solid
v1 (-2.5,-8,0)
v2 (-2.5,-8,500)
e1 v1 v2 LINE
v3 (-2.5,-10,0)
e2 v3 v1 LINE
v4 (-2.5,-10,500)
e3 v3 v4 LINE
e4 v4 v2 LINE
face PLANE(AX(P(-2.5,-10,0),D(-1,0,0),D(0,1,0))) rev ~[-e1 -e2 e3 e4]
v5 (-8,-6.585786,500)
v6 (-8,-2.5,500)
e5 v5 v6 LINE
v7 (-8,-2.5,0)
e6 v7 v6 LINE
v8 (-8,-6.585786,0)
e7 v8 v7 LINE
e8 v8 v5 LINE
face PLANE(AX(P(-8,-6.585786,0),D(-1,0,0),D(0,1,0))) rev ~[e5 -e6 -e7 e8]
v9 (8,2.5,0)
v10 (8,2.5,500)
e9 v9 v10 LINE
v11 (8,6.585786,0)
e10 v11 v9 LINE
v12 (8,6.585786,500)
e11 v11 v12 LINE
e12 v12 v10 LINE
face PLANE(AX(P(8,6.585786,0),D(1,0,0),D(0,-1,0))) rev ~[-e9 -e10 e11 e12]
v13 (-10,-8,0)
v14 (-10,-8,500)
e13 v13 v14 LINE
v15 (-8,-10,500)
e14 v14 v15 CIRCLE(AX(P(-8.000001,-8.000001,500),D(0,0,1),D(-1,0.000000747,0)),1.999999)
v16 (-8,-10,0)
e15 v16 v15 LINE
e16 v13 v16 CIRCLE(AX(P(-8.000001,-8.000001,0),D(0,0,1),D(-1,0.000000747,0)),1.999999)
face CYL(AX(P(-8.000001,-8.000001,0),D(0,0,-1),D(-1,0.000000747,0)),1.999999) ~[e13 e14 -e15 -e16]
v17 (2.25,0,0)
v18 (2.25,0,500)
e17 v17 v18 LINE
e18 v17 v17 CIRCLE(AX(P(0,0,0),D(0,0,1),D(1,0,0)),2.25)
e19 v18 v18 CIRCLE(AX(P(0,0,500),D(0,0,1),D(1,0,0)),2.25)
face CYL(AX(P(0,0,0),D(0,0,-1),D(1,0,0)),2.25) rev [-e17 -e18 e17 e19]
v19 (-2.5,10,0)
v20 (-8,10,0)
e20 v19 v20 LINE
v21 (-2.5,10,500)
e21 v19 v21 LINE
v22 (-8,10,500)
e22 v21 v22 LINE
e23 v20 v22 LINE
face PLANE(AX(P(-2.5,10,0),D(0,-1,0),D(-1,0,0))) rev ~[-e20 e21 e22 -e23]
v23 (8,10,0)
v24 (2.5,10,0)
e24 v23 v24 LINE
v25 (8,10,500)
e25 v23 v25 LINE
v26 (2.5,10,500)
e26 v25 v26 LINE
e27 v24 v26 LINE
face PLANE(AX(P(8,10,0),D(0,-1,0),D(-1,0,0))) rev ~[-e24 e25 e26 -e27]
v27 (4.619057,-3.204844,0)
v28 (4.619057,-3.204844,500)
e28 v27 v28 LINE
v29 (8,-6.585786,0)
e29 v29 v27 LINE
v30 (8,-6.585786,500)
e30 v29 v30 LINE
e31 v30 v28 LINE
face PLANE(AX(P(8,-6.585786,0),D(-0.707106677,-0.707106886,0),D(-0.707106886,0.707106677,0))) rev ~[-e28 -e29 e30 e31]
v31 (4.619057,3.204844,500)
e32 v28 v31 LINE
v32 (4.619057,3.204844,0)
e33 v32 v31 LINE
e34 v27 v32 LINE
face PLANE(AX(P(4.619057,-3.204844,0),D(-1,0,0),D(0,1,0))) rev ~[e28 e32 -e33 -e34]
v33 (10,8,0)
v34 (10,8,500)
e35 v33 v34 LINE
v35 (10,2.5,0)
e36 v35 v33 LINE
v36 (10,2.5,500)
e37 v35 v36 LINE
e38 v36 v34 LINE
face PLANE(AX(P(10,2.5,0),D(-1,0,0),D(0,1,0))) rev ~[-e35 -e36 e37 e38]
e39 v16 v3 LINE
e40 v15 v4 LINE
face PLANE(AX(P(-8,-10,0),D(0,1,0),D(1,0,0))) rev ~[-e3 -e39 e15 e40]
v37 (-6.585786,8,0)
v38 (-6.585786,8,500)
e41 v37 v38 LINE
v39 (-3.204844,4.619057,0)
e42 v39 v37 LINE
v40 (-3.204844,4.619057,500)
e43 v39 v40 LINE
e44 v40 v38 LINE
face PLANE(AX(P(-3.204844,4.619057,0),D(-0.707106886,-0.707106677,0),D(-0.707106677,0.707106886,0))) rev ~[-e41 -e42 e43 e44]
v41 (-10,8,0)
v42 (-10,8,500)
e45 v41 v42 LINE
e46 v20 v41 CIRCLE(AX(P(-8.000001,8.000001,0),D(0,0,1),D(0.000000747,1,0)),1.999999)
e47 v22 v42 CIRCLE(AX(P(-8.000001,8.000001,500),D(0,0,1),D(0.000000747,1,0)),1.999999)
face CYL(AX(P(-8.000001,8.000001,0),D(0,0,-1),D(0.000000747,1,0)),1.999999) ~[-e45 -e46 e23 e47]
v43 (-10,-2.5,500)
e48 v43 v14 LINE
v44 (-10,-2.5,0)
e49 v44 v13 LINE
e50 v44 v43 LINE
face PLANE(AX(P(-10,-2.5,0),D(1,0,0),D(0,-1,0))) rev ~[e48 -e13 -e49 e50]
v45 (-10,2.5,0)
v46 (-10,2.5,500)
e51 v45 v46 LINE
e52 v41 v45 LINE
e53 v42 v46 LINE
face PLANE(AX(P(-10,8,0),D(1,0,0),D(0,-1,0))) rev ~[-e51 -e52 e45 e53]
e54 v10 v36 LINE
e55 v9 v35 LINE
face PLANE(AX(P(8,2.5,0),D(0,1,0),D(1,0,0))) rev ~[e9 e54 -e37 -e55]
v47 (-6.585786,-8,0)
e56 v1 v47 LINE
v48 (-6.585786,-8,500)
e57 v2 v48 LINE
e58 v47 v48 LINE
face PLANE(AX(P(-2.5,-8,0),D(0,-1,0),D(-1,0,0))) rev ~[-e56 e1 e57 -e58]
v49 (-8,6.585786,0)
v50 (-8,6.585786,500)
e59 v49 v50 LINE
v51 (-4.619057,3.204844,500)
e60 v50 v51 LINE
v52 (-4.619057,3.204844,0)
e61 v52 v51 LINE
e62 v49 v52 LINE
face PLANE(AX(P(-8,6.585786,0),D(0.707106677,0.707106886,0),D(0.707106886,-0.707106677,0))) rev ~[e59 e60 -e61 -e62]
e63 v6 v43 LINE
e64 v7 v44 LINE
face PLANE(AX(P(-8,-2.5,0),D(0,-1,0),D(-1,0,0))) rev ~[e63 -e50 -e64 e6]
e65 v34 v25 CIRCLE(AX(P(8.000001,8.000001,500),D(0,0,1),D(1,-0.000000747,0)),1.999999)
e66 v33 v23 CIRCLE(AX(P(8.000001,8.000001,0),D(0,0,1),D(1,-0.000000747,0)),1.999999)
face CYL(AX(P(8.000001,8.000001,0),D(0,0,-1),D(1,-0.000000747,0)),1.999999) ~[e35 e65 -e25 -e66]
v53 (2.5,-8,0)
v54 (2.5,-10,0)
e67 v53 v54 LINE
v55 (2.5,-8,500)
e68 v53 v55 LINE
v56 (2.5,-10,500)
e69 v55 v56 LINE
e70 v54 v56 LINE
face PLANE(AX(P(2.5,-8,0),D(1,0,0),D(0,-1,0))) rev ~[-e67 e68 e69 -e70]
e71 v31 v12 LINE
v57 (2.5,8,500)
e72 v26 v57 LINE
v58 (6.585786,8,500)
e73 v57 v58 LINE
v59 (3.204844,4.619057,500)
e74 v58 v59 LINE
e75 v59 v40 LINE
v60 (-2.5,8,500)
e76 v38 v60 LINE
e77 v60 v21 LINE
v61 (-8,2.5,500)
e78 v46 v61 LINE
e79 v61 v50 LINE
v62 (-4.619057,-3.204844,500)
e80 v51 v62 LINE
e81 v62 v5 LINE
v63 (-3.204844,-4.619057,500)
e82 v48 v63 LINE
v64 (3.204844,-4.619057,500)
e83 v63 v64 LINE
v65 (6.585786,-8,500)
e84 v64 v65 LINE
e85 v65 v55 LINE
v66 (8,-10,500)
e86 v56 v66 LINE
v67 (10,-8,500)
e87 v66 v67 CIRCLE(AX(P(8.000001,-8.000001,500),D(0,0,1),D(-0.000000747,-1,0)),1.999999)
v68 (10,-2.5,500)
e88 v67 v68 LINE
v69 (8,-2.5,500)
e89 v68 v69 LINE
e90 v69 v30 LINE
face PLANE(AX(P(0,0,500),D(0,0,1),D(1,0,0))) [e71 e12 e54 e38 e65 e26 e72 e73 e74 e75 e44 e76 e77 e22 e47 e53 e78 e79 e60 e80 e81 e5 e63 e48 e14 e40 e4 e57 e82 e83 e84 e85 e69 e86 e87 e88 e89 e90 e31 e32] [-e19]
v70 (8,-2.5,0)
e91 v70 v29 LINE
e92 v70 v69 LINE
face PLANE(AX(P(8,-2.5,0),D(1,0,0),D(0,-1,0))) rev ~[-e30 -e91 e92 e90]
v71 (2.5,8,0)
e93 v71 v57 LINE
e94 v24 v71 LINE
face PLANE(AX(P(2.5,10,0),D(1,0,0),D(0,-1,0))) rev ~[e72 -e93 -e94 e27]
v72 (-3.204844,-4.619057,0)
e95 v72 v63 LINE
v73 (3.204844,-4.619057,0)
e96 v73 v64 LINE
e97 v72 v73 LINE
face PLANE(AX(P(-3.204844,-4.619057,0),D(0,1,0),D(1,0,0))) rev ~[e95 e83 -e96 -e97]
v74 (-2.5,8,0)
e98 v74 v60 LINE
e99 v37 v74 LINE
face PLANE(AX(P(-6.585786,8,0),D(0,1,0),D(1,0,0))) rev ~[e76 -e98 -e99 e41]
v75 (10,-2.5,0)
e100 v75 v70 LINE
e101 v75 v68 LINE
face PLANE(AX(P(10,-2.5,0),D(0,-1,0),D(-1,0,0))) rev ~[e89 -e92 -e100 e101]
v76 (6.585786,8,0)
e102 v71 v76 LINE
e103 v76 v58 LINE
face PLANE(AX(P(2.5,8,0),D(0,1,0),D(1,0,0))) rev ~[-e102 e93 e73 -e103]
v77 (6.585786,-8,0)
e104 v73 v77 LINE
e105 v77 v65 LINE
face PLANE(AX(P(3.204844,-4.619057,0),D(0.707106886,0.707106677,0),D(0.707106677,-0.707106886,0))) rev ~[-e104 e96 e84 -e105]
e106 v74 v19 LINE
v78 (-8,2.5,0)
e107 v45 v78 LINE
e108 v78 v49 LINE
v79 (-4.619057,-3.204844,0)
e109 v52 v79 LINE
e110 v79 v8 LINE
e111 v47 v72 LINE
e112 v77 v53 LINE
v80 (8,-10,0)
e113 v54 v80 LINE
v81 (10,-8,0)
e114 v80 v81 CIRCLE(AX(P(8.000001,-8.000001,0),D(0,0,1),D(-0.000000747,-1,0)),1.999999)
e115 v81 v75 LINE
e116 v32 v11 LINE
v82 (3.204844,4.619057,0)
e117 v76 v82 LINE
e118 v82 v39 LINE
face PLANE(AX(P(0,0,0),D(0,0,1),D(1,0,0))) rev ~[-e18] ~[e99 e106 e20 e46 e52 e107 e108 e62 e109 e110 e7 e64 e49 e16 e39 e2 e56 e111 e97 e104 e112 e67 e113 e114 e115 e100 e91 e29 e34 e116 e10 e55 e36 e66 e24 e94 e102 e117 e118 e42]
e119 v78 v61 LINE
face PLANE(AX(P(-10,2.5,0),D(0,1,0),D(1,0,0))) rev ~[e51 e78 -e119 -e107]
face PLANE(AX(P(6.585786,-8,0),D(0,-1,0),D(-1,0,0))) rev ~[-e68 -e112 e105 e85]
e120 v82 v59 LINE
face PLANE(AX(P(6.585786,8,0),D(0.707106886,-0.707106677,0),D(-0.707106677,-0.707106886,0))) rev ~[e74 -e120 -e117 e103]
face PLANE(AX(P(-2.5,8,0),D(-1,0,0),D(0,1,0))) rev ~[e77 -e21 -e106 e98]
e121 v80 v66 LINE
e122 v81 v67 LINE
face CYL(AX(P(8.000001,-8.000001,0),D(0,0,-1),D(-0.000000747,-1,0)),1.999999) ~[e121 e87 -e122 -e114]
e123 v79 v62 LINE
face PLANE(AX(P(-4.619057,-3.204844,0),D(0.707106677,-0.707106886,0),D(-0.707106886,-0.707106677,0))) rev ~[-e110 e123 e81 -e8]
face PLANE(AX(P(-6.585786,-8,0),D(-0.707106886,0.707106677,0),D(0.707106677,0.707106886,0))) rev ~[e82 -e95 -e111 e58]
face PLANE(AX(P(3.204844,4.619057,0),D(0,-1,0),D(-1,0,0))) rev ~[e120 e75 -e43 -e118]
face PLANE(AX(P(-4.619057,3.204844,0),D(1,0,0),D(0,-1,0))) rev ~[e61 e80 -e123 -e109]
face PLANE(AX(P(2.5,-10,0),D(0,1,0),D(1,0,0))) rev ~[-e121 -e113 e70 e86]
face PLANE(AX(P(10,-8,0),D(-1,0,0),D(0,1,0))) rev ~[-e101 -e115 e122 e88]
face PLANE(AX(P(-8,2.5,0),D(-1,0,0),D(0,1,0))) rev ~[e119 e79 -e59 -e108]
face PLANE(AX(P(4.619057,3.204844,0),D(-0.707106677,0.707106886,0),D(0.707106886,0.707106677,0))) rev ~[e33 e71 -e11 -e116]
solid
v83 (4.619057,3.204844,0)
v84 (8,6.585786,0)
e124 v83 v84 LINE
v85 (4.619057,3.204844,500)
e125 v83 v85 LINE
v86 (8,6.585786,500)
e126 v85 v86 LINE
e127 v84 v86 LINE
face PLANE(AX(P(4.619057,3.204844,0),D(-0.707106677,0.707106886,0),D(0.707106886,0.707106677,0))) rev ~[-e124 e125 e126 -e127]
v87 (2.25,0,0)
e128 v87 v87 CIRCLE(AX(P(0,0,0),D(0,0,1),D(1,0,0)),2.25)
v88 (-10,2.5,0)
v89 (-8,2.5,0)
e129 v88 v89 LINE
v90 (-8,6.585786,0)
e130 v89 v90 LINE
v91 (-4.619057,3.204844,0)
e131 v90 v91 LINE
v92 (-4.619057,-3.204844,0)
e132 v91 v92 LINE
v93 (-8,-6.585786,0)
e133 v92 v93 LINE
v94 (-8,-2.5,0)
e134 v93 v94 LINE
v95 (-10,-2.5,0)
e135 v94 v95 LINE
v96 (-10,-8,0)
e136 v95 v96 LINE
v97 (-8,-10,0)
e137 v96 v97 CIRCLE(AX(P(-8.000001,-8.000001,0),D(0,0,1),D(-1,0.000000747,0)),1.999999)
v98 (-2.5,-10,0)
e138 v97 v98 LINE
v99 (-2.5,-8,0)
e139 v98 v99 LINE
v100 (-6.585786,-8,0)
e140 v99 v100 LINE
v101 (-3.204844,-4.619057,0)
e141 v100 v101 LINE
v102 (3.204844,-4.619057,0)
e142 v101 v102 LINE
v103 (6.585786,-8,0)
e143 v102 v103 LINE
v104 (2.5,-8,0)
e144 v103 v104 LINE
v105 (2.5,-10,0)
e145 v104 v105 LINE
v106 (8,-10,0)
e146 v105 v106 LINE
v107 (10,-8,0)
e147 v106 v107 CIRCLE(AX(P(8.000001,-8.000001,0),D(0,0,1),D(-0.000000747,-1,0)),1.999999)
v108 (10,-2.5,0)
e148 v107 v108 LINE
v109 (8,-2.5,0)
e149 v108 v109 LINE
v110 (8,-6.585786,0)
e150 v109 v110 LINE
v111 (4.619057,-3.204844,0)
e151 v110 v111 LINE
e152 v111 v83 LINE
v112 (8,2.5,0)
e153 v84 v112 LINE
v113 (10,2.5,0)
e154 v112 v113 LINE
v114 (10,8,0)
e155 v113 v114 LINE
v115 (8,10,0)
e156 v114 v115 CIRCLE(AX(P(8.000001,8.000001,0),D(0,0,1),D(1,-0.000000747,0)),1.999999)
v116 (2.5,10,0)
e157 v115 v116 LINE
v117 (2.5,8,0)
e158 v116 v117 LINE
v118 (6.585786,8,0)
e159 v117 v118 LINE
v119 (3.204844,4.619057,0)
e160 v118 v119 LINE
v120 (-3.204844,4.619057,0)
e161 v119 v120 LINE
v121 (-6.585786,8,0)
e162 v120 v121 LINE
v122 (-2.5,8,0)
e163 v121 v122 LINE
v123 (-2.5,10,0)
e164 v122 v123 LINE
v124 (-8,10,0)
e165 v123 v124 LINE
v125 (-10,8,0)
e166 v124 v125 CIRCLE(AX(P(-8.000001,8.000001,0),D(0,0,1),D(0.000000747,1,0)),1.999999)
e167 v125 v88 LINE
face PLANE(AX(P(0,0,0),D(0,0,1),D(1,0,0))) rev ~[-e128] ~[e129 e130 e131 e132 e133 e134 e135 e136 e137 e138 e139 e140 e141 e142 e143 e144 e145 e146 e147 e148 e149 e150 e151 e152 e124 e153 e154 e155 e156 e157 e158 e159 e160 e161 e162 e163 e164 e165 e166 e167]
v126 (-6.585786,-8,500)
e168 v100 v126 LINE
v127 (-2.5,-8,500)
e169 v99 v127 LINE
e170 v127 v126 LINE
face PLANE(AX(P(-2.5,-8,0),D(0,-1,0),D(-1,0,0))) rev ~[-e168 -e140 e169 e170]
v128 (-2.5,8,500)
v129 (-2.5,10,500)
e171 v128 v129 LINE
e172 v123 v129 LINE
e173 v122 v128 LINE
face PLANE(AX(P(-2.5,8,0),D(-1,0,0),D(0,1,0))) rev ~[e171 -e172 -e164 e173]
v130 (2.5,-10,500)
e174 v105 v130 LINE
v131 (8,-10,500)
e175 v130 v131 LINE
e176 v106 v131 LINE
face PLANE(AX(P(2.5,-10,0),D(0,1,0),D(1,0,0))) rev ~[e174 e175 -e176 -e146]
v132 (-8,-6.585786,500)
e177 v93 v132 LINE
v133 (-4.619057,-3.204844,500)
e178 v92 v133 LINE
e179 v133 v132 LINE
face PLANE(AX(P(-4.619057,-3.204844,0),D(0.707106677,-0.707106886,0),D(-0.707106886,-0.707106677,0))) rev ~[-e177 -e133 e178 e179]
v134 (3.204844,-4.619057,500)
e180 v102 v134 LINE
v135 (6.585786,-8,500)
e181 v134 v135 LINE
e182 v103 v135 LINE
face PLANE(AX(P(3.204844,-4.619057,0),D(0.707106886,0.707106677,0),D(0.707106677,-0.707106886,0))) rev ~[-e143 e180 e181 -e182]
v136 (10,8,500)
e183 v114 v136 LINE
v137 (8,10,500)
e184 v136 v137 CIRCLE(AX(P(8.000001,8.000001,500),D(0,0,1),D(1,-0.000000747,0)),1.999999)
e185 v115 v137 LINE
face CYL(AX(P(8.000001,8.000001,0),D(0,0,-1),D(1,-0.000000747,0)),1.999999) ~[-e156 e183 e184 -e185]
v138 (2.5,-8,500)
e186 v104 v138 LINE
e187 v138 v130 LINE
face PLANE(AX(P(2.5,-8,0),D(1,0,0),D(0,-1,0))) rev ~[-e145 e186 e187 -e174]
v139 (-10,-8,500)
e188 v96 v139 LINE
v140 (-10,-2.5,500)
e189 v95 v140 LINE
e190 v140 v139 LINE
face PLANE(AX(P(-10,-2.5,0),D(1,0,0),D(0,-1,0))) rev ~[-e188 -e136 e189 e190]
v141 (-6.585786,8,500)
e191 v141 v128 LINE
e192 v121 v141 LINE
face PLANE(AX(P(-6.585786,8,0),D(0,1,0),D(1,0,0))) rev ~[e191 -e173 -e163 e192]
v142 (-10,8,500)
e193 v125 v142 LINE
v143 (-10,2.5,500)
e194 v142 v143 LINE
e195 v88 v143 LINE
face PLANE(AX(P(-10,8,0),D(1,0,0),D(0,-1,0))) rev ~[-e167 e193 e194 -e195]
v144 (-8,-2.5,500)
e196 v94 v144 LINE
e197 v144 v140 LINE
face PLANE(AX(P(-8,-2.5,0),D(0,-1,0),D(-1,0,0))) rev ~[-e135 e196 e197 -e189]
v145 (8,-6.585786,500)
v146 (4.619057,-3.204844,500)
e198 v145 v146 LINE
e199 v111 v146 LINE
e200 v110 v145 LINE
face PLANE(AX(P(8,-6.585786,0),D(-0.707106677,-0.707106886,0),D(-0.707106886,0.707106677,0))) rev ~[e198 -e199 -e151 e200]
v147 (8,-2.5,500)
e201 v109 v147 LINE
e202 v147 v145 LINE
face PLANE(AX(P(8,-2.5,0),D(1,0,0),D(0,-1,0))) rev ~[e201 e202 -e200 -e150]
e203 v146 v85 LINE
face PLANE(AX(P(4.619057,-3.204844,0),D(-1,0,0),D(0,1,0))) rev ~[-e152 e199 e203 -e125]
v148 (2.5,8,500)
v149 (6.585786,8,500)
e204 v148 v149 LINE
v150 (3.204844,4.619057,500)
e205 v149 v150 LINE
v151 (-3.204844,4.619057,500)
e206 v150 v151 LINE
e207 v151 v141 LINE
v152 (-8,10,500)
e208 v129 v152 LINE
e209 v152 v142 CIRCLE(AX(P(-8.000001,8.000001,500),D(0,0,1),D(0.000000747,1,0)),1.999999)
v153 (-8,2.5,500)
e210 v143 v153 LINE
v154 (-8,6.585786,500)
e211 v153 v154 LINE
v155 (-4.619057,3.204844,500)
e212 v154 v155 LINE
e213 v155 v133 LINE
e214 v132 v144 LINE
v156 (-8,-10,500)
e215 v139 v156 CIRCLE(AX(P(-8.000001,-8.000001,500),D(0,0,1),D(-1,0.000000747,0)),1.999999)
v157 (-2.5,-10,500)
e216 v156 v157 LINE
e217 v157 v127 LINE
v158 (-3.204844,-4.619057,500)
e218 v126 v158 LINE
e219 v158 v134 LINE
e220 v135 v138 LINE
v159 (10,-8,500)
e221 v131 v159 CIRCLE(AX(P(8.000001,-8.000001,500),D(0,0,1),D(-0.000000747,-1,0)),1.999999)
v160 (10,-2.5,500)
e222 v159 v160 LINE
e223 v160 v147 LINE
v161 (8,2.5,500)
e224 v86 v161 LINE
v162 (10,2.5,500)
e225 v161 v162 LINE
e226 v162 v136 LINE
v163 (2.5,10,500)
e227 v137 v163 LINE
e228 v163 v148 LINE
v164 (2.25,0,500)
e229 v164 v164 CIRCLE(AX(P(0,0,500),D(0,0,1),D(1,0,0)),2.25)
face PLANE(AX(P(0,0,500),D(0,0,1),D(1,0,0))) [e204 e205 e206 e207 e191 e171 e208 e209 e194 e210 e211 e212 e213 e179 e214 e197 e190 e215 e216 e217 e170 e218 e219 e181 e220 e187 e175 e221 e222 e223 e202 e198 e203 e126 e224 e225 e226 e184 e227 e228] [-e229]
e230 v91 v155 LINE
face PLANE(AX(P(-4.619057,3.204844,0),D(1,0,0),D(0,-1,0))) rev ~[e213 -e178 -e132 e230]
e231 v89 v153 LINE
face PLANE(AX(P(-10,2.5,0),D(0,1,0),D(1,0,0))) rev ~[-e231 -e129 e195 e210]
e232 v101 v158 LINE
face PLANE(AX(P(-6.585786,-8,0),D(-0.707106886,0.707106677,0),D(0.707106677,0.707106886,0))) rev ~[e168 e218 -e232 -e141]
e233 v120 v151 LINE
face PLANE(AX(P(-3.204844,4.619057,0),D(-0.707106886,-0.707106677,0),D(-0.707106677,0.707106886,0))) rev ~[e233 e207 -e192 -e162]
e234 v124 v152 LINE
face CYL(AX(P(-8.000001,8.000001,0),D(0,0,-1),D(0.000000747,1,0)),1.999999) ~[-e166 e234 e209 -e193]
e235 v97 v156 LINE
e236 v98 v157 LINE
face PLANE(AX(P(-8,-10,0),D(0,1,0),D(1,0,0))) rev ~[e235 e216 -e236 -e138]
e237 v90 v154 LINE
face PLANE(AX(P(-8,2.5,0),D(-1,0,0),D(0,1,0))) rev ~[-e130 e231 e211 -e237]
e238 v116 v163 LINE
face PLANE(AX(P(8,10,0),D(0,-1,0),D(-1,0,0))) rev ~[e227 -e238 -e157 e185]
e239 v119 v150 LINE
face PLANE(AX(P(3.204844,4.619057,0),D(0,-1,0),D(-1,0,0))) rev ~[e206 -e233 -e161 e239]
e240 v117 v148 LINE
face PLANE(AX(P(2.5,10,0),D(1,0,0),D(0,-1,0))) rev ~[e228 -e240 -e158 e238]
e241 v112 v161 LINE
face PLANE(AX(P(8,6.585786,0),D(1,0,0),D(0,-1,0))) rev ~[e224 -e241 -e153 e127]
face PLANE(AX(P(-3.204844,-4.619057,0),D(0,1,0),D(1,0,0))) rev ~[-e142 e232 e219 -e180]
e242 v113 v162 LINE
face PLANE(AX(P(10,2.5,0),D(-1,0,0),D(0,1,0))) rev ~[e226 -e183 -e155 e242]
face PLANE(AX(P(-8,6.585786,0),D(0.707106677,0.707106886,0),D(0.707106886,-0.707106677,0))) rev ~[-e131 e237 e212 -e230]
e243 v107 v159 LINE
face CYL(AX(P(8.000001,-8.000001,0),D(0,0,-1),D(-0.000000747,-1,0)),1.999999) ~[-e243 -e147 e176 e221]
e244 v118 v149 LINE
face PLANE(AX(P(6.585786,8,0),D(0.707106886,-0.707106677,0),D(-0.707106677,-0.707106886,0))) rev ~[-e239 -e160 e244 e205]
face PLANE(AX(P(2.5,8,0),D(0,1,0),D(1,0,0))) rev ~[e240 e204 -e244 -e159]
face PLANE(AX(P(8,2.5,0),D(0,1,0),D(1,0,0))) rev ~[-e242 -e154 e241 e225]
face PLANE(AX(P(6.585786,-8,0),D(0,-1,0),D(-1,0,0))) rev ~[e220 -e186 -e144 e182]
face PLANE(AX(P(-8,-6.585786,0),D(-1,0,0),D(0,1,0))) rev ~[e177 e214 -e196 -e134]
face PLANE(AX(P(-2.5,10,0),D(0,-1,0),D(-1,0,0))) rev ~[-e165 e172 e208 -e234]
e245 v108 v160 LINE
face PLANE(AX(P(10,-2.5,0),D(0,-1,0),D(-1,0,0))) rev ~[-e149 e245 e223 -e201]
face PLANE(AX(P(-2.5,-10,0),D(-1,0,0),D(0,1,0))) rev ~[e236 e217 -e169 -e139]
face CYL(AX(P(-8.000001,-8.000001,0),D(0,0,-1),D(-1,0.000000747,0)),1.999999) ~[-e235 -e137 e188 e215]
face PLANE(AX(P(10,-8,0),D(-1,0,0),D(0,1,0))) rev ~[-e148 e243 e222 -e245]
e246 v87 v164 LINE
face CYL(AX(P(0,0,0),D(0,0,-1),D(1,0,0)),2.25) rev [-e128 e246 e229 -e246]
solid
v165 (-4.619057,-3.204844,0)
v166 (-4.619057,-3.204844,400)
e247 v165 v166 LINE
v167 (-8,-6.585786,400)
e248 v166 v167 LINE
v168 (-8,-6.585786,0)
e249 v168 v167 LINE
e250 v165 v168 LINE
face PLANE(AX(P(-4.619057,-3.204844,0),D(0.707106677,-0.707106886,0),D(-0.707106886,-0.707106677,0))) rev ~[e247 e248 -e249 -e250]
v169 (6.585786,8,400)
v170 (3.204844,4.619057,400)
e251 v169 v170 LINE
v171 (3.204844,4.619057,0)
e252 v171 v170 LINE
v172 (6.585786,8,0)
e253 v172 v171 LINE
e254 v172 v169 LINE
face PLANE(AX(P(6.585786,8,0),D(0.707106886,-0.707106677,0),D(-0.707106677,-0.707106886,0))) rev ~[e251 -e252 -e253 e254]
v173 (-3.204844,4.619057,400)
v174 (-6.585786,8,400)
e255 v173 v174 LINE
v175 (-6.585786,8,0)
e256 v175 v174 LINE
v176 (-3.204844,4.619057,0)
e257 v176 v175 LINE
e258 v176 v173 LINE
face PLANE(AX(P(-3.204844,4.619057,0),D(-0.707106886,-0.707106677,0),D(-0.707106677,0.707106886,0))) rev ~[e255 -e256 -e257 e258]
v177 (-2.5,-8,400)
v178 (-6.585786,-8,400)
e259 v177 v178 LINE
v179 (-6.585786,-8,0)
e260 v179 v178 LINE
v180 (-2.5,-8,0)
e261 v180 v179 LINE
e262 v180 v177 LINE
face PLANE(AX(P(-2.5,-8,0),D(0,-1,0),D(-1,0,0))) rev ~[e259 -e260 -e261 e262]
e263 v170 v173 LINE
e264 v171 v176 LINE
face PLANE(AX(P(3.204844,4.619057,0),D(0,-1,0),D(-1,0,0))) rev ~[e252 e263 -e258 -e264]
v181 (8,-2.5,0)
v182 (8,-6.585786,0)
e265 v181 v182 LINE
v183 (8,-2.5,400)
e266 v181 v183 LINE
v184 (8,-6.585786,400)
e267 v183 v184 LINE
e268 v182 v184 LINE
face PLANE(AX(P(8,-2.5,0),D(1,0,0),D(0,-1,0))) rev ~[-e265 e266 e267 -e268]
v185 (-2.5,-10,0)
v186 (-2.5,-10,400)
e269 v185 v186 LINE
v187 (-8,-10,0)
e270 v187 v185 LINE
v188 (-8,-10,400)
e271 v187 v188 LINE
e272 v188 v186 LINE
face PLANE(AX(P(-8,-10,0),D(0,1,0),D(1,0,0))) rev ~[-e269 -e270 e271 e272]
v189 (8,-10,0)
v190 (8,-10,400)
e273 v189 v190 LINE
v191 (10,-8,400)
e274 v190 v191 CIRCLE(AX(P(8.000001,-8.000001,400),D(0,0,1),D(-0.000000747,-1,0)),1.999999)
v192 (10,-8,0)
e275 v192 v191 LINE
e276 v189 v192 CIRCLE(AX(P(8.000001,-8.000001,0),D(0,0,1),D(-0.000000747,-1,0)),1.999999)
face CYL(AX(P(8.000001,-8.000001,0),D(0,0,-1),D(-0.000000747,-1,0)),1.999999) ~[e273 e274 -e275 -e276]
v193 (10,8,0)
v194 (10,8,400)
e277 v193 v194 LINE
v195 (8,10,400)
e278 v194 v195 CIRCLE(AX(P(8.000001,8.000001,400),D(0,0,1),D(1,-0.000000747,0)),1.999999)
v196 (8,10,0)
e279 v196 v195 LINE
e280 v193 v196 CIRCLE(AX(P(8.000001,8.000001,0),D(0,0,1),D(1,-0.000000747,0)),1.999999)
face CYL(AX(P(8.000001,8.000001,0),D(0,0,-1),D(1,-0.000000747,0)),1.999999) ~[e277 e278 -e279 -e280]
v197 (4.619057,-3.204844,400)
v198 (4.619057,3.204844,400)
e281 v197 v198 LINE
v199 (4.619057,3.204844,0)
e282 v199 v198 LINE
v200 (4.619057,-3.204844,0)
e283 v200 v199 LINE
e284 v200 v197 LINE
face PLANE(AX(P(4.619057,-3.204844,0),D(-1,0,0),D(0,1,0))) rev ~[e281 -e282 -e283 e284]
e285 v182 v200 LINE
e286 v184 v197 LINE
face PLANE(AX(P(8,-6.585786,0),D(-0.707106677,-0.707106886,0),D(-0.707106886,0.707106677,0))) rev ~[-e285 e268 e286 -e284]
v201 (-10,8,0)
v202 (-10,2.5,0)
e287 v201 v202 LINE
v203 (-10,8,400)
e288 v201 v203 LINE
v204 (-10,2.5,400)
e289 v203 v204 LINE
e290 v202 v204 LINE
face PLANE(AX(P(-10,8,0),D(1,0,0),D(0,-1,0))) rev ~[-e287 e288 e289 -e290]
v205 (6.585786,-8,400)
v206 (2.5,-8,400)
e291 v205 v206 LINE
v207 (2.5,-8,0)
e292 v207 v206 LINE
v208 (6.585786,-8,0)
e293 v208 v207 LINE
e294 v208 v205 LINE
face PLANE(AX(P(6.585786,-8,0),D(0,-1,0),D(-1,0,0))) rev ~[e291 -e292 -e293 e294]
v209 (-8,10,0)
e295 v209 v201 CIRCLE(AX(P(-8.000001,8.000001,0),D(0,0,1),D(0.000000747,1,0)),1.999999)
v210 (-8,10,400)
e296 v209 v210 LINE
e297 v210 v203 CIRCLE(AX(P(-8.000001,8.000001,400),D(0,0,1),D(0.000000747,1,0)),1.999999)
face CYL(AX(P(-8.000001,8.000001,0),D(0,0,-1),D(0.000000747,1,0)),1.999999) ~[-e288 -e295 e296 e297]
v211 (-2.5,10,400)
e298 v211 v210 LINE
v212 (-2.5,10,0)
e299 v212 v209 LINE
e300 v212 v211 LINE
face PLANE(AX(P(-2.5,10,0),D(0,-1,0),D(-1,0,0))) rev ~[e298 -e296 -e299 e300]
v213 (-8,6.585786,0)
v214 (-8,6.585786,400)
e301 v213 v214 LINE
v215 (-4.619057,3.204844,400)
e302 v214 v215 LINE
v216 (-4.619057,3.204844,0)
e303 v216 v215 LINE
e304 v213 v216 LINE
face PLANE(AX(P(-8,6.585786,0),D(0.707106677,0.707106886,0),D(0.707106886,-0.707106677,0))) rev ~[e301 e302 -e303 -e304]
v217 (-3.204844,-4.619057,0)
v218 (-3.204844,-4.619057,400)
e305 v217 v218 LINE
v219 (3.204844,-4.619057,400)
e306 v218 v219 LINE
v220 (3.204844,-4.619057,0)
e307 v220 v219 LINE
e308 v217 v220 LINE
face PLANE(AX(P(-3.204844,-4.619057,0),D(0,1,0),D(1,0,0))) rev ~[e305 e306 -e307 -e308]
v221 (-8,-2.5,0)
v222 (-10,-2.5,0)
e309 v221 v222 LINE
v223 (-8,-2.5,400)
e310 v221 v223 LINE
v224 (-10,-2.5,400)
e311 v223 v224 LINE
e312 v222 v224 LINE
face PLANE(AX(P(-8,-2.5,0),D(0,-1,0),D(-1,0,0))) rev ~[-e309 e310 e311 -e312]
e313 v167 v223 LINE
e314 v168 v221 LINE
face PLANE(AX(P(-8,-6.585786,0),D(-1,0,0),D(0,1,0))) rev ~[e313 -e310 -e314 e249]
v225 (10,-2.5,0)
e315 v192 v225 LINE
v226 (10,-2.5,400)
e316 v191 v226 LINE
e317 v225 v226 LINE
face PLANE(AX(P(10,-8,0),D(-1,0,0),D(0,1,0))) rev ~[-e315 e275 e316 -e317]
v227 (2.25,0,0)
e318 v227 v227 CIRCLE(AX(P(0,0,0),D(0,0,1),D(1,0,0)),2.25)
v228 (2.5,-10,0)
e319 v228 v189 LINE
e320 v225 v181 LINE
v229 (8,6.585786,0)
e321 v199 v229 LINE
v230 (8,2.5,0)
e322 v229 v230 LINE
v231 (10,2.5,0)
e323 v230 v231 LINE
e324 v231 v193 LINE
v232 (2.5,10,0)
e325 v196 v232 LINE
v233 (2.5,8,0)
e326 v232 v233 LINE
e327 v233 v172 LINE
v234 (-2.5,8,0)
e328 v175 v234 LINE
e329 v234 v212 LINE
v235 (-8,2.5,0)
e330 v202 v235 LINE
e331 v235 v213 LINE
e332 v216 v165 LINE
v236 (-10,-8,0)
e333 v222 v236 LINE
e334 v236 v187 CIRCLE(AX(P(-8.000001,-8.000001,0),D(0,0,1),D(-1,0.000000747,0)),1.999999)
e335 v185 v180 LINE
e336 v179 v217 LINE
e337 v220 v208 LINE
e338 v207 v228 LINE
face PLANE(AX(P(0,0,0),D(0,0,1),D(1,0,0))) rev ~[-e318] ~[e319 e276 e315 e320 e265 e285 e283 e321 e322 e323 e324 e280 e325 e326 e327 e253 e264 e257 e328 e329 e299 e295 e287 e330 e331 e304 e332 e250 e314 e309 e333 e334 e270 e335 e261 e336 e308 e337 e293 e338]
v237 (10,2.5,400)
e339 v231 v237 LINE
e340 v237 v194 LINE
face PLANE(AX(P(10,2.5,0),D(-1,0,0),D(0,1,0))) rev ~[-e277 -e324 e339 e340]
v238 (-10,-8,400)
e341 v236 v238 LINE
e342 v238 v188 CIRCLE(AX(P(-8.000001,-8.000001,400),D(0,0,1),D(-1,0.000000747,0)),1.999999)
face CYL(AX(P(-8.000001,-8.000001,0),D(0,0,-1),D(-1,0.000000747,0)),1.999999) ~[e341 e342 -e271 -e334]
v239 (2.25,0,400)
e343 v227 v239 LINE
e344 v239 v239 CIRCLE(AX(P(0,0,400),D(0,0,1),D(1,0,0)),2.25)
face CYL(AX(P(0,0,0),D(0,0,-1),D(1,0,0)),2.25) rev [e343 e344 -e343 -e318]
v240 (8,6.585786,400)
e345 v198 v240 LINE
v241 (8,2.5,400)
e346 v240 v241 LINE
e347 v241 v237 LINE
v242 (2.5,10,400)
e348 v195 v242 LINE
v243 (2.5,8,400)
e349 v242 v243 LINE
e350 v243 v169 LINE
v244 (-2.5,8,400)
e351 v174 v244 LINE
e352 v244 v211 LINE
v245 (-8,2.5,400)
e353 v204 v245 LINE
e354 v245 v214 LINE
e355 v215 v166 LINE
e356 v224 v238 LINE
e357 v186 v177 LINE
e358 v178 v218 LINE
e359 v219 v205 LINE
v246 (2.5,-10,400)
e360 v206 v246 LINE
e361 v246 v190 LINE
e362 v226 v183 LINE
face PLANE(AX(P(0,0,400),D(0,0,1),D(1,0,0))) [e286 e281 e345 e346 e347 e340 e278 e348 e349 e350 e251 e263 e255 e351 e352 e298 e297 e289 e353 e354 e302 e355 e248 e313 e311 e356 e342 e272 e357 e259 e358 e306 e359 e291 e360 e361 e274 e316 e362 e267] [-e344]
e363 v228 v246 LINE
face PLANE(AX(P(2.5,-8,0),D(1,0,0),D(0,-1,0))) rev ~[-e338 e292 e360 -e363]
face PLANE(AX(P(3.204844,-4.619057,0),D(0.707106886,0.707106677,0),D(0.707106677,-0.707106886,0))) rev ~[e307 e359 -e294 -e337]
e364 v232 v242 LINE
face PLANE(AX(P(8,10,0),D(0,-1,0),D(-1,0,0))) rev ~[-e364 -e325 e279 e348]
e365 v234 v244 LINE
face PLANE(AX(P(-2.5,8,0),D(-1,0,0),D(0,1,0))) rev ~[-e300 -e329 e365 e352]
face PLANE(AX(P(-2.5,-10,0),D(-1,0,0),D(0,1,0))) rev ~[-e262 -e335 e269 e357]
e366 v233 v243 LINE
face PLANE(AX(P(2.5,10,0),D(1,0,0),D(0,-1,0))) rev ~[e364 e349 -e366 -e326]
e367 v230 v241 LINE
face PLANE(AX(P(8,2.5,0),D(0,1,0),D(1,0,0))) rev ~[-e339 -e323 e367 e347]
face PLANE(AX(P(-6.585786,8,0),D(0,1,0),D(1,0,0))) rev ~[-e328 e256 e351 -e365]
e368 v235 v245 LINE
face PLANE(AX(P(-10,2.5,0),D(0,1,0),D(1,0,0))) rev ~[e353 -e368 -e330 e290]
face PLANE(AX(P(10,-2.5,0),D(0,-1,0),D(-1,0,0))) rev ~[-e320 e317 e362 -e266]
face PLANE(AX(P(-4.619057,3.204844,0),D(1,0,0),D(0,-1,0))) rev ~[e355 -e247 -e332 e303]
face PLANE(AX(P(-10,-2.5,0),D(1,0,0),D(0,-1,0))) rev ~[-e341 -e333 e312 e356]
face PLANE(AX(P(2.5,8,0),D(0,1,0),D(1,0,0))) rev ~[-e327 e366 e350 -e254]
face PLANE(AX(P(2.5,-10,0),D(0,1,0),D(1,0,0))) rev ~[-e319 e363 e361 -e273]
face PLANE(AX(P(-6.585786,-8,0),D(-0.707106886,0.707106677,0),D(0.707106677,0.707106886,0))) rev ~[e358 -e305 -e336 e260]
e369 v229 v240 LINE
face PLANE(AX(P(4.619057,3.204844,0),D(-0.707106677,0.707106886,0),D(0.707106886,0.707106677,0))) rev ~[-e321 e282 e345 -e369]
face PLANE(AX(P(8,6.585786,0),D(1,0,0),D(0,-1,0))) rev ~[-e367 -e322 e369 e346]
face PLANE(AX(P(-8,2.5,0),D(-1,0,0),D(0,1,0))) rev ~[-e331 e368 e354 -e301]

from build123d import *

# Parameters (mm, degrees)
F0_R     = 2.25
F1_DEPTH = 500
F2_DEPTH = 500
F3_DEPTH = 400


with BuildPart() as f1:
    # F0 (on Top) → F1 (new body)
    with BuildSketch(Plane.XY):
        with BuildLine():
            ThreePointArc((-10, -8), (-9.414214, -9.414214), (-8, -10))
            Line((-8, -10), (-2.5, -10))
            Line((-2.5, -10), (-2.5, -8))
            Line((-2.5, -8), (-6.585786, -8))
            Line((-6.585786, -8), (-3.204844, -4.619057))
            Line((-3.204844, -4.619057), (0, -4.619057))
            Line((0, -4.619057), (3.204844, -4.619057))
            Line((3.204844, -4.619057), (6.585786, -8))
            Line((6.585786, -8), (2.5, -8))
            Line((2.5, -8), (2.5, -10))
            Line((2.5, -10), (8, -10))
            ThreePointArc((8, -10), (9.414214, -9.414214), (10, -8))
            Line((10, -8), (10, -2.5))
            Line((10, -2.5), (8, -2.5))
            Line((8, -2.5), (8, -6.585786))
            Line((8, -6.585786), (4.619057, -3.204844))
            Line((4.619057, -3.204844), (4.619057, 0))
            Line((4.619057, 0), (4.619057, 3.204844))
            Line((4.619057, 3.204844), (8, 6.585786))
            Line((8, 6.585786), (8, 2.5))
            Line((8, 2.5), (10, 2.5))
            Line((10, 2.5), (10, 8))
            ThreePointArc((10, 8), (9.414214, 9.414214), (8, 10))
            Line((8, 10), (2.5, 10))
            Line((2.5, 10), (2.5, 8))
            Line((2.5, 8), (6.585786, 8))
            Line((6.585786, 8), (3.204844, 4.619057))
            Line((3.204844, 4.619057), (0, 4.619057))
            Line((0, 4.619057), (-3.204844, 4.619057))
            Line((-3.204844, 4.619057), (-6.585786, 8))
            Line((-6.585786, 8), (-2.5, 8))
            Line((-2.5, 8), (-2.5, 10))
            Line((-2.5, 10), (-8, 10))
            ThreePointArc((-8, 10), (-9.414214, 9.414214), (-10, 8))
            Line((-10, 8), (-10, 2.5))
            Line((-10, 2.5), (-8, 2.5))
            Line((-8, 2.5), (-8, 6.585786))
            Line((-8, 6.585786), (-4.619057, 3.204844))
            Line((-4.619057, 3.204844), (-4.619057, 0))
            Line((-4.619057, 0), (-4.619057, -3.204844))
            Line((-4.619057, -3.204844), (-8, -6.585786))
            Line((-8, -6.585786), (-8, -2.5))
            Line((-8, -2.5), (-10, -2.5))
            Line((-10, -2.5), (-10, -8))
        make_face()
        Circle(F0_R, mode=Mode.SUBTRACT)
    extrude(amount=F1_DEPTH)


with BuildPart() as f2:
    # F0 (on Top) → F2 (new body)
    with BuildSketch(Plane.XY):
        with BuildLine():
            ThreePointArc((-10, -8), (-9.414214, -9.414214), (-8, -10))
            Line((-8, -10), (-2.5, -10))
            Line((-2.5, -10), (-2.5, -8))
            Line((-2.5, -8), (-6.585786, -8))
            Line((-6.585786, -8), (-3.204844, -4.619057))
            Line((-3.204844, -4.619057), (0, -4.619057))
            Line((0, -4.619057), (3.204844, -4.619057))
            Line((3.204844, -4.619057), (6.585786, -8))
            Line((6.585786, -8), (2.5, -8))
            Line((2.5, -8), (2.5, -10))
            Line((2.5, -10), (8, -10))
            ThreePointArc((8, -10), (9.414214, -9.414214), (10, -8))
            Line((10, -8), (10, -2.5))
            Line((10, -2.5), (8, -2.5))
            Line((8, -2.5), (8, -6.585786))
            Line((8, -6.585786), (4.619057, -3.204844))
            Line((4.619057, -3.204844), (4.619057, 0))
            Line((4.619057, 0), (4.619057, 3.204844))
            Line((4.619057, 3.204844), (8, 6.585786))
            Line((8, 6.585786), (8, 2.5))
            Line((8, 2.5), (10, 2.5))
            Line((10, 2.5), (10, 8))
            ThreePointArc((10, 8), (9.414214, 9.414214), (8, 10))
            Line((8, 10), (2.5, 10))
            Line((2.5, 10), (2.5, 8))
            Line((2.5, 8), (6.585786, 8))
            Line((6.585786, 8), (3.204844, 4.619057))
            Line((3.204844, 4.619057), (0, 4.619057))
            Line((0, 4.619057), (-3.204844, 4.619057))
            Line((-3.204844, 4.619057), (-6.585786, 8))
            Line((-6.585786, 8), (-2.5, 8))
            Line((-2.5, 8), (-2.5, 10))
            Line((-2.5, 10), (-8, 10))
            ThreePointArc((-8, 10), (-9.414214, 9.414214), (-10, 8))
            Line((-10, 8), (-10, 2.5))
            Line((-10, 2.5), (-8, 2.5))
            Line((-8, 2.5), (-8, 6.585786))
            Line((-8, 6.585786), (-4.619057, 3.204844))
            Line((-4.619057, 3.204844), (-4.619057, 0))
            Line((-4.619057, 0), (-4.619057, -3.204844))
            Line((-4.619057, -3.204844), (-8, -6.585786))
            Line((-8, -6.585786), (-8, -2.5))
            Line((-8, -2.5), (-10, -2.5))
            Line((-10, -2.5), (-10, -8))
        make_face()
        Circle(F0_R, mode=Mode.SUBTRACT)
    extrude(amount=F2_DEPTH)


with BuildPart() as f3:
    # F0 (on Top) → F3 (new body)
    with BuildSketch(Plane.XY):
        with BuildLine():
            ThreePointArc((-10, -8), (-9.414214, -9.414214), (-8, -10))
            Line((-8, -10), (-2.5, -10))
            Line((-2.5, -10), (-2.5, -8))
            Line((-2.5, -8), (-6.585786, -8))
            Line((-6.585786, -8), (-3.204844, -4.619057))
            Line((-3.204844, -4.619057), (0, -4.619057))
            Line((0, -4.619057), (3.204844, -4.619057))
            Line((3.204844, -4.619057), (6.585786, -8))
            Line((6.585786, -8), (2.5, -8))
            Line((2.5, -8), (2.5, -10))
            Line((2.5, -10), (8, -10))
            ThreePointArc((8, -10), (9.414214, -9.414214), (10, -8))
            Line((10, -8), (10, -2.5))
            Line((10, -2.5), (8, -2.5))
            Line((8, -2.5), (8, -6.585786))
            Line((8, -6.585786), (4.619057, -3.204844))
            Line((4.619057, -3.204844), (4.619057, 0))
            Line((4.619057, 0), (4.619057, 3.204844))
            Line((4.619057, 3.204844), (8, 6.585786))
            Line((8, 6.585786), (8, 2.5))
            Line((8, 2.5), (10, 2.5))
            Line((10, 2.5), (10, 8))
            ThreePointArc((10, 8), (9.414214, 9.414214), (8, 10))
            Line((8, 10), (2.5, 10))
            Line((2.5, 10), (2.5, 8))
            Line((2.5, 8), (6.585786, 8))
            Line((6.585786, 8), (3.204844, 4.619057))
            Line((3.204844, 4.619057), (0, 4.619057))
            Line((0, 4.619057), (-3.204844, 4.619057))
            Line((-3.204844, 4.619057), (-6.585786, 8))
            Line((-6.585786, 8), (-2.5, 8))
            Line((-2.5, 8), (-2.5, 10))
            Line((-2.5, 10), (-8, 10))
            ThreePointArc((-8, 10), (-9.414214, 9.414214), (-10, 8))
            Line((-10, 8), (-10, 2.5))
            Line((-10, 2.5), (-8, 2.5))
            Line((-8, 2.5), (-8, 6.585786))
            Line((-8, 6.585786), (-4.619057, 3.204844))
            Line((-4.619057, 3.204844), (-4.619057, 0))
            Line((-4.619057, 0), (-4.619057, -3.204844))
            Line((-4.619057, -3.204844), (-8, -6.585786))
            Line((-8, -6.585786), (-8, -2.5))
            Line((-8, -2.5), (-10, -2.5))
            Line((-10, -2.5), (-10, -8))
        make_face()
        Circle(F0_R, mode=Mode.SUBTRACT)
    extrude(amount=F3_DEPTH)


solid = Compound([f1.part, f2.part, f3.part])
